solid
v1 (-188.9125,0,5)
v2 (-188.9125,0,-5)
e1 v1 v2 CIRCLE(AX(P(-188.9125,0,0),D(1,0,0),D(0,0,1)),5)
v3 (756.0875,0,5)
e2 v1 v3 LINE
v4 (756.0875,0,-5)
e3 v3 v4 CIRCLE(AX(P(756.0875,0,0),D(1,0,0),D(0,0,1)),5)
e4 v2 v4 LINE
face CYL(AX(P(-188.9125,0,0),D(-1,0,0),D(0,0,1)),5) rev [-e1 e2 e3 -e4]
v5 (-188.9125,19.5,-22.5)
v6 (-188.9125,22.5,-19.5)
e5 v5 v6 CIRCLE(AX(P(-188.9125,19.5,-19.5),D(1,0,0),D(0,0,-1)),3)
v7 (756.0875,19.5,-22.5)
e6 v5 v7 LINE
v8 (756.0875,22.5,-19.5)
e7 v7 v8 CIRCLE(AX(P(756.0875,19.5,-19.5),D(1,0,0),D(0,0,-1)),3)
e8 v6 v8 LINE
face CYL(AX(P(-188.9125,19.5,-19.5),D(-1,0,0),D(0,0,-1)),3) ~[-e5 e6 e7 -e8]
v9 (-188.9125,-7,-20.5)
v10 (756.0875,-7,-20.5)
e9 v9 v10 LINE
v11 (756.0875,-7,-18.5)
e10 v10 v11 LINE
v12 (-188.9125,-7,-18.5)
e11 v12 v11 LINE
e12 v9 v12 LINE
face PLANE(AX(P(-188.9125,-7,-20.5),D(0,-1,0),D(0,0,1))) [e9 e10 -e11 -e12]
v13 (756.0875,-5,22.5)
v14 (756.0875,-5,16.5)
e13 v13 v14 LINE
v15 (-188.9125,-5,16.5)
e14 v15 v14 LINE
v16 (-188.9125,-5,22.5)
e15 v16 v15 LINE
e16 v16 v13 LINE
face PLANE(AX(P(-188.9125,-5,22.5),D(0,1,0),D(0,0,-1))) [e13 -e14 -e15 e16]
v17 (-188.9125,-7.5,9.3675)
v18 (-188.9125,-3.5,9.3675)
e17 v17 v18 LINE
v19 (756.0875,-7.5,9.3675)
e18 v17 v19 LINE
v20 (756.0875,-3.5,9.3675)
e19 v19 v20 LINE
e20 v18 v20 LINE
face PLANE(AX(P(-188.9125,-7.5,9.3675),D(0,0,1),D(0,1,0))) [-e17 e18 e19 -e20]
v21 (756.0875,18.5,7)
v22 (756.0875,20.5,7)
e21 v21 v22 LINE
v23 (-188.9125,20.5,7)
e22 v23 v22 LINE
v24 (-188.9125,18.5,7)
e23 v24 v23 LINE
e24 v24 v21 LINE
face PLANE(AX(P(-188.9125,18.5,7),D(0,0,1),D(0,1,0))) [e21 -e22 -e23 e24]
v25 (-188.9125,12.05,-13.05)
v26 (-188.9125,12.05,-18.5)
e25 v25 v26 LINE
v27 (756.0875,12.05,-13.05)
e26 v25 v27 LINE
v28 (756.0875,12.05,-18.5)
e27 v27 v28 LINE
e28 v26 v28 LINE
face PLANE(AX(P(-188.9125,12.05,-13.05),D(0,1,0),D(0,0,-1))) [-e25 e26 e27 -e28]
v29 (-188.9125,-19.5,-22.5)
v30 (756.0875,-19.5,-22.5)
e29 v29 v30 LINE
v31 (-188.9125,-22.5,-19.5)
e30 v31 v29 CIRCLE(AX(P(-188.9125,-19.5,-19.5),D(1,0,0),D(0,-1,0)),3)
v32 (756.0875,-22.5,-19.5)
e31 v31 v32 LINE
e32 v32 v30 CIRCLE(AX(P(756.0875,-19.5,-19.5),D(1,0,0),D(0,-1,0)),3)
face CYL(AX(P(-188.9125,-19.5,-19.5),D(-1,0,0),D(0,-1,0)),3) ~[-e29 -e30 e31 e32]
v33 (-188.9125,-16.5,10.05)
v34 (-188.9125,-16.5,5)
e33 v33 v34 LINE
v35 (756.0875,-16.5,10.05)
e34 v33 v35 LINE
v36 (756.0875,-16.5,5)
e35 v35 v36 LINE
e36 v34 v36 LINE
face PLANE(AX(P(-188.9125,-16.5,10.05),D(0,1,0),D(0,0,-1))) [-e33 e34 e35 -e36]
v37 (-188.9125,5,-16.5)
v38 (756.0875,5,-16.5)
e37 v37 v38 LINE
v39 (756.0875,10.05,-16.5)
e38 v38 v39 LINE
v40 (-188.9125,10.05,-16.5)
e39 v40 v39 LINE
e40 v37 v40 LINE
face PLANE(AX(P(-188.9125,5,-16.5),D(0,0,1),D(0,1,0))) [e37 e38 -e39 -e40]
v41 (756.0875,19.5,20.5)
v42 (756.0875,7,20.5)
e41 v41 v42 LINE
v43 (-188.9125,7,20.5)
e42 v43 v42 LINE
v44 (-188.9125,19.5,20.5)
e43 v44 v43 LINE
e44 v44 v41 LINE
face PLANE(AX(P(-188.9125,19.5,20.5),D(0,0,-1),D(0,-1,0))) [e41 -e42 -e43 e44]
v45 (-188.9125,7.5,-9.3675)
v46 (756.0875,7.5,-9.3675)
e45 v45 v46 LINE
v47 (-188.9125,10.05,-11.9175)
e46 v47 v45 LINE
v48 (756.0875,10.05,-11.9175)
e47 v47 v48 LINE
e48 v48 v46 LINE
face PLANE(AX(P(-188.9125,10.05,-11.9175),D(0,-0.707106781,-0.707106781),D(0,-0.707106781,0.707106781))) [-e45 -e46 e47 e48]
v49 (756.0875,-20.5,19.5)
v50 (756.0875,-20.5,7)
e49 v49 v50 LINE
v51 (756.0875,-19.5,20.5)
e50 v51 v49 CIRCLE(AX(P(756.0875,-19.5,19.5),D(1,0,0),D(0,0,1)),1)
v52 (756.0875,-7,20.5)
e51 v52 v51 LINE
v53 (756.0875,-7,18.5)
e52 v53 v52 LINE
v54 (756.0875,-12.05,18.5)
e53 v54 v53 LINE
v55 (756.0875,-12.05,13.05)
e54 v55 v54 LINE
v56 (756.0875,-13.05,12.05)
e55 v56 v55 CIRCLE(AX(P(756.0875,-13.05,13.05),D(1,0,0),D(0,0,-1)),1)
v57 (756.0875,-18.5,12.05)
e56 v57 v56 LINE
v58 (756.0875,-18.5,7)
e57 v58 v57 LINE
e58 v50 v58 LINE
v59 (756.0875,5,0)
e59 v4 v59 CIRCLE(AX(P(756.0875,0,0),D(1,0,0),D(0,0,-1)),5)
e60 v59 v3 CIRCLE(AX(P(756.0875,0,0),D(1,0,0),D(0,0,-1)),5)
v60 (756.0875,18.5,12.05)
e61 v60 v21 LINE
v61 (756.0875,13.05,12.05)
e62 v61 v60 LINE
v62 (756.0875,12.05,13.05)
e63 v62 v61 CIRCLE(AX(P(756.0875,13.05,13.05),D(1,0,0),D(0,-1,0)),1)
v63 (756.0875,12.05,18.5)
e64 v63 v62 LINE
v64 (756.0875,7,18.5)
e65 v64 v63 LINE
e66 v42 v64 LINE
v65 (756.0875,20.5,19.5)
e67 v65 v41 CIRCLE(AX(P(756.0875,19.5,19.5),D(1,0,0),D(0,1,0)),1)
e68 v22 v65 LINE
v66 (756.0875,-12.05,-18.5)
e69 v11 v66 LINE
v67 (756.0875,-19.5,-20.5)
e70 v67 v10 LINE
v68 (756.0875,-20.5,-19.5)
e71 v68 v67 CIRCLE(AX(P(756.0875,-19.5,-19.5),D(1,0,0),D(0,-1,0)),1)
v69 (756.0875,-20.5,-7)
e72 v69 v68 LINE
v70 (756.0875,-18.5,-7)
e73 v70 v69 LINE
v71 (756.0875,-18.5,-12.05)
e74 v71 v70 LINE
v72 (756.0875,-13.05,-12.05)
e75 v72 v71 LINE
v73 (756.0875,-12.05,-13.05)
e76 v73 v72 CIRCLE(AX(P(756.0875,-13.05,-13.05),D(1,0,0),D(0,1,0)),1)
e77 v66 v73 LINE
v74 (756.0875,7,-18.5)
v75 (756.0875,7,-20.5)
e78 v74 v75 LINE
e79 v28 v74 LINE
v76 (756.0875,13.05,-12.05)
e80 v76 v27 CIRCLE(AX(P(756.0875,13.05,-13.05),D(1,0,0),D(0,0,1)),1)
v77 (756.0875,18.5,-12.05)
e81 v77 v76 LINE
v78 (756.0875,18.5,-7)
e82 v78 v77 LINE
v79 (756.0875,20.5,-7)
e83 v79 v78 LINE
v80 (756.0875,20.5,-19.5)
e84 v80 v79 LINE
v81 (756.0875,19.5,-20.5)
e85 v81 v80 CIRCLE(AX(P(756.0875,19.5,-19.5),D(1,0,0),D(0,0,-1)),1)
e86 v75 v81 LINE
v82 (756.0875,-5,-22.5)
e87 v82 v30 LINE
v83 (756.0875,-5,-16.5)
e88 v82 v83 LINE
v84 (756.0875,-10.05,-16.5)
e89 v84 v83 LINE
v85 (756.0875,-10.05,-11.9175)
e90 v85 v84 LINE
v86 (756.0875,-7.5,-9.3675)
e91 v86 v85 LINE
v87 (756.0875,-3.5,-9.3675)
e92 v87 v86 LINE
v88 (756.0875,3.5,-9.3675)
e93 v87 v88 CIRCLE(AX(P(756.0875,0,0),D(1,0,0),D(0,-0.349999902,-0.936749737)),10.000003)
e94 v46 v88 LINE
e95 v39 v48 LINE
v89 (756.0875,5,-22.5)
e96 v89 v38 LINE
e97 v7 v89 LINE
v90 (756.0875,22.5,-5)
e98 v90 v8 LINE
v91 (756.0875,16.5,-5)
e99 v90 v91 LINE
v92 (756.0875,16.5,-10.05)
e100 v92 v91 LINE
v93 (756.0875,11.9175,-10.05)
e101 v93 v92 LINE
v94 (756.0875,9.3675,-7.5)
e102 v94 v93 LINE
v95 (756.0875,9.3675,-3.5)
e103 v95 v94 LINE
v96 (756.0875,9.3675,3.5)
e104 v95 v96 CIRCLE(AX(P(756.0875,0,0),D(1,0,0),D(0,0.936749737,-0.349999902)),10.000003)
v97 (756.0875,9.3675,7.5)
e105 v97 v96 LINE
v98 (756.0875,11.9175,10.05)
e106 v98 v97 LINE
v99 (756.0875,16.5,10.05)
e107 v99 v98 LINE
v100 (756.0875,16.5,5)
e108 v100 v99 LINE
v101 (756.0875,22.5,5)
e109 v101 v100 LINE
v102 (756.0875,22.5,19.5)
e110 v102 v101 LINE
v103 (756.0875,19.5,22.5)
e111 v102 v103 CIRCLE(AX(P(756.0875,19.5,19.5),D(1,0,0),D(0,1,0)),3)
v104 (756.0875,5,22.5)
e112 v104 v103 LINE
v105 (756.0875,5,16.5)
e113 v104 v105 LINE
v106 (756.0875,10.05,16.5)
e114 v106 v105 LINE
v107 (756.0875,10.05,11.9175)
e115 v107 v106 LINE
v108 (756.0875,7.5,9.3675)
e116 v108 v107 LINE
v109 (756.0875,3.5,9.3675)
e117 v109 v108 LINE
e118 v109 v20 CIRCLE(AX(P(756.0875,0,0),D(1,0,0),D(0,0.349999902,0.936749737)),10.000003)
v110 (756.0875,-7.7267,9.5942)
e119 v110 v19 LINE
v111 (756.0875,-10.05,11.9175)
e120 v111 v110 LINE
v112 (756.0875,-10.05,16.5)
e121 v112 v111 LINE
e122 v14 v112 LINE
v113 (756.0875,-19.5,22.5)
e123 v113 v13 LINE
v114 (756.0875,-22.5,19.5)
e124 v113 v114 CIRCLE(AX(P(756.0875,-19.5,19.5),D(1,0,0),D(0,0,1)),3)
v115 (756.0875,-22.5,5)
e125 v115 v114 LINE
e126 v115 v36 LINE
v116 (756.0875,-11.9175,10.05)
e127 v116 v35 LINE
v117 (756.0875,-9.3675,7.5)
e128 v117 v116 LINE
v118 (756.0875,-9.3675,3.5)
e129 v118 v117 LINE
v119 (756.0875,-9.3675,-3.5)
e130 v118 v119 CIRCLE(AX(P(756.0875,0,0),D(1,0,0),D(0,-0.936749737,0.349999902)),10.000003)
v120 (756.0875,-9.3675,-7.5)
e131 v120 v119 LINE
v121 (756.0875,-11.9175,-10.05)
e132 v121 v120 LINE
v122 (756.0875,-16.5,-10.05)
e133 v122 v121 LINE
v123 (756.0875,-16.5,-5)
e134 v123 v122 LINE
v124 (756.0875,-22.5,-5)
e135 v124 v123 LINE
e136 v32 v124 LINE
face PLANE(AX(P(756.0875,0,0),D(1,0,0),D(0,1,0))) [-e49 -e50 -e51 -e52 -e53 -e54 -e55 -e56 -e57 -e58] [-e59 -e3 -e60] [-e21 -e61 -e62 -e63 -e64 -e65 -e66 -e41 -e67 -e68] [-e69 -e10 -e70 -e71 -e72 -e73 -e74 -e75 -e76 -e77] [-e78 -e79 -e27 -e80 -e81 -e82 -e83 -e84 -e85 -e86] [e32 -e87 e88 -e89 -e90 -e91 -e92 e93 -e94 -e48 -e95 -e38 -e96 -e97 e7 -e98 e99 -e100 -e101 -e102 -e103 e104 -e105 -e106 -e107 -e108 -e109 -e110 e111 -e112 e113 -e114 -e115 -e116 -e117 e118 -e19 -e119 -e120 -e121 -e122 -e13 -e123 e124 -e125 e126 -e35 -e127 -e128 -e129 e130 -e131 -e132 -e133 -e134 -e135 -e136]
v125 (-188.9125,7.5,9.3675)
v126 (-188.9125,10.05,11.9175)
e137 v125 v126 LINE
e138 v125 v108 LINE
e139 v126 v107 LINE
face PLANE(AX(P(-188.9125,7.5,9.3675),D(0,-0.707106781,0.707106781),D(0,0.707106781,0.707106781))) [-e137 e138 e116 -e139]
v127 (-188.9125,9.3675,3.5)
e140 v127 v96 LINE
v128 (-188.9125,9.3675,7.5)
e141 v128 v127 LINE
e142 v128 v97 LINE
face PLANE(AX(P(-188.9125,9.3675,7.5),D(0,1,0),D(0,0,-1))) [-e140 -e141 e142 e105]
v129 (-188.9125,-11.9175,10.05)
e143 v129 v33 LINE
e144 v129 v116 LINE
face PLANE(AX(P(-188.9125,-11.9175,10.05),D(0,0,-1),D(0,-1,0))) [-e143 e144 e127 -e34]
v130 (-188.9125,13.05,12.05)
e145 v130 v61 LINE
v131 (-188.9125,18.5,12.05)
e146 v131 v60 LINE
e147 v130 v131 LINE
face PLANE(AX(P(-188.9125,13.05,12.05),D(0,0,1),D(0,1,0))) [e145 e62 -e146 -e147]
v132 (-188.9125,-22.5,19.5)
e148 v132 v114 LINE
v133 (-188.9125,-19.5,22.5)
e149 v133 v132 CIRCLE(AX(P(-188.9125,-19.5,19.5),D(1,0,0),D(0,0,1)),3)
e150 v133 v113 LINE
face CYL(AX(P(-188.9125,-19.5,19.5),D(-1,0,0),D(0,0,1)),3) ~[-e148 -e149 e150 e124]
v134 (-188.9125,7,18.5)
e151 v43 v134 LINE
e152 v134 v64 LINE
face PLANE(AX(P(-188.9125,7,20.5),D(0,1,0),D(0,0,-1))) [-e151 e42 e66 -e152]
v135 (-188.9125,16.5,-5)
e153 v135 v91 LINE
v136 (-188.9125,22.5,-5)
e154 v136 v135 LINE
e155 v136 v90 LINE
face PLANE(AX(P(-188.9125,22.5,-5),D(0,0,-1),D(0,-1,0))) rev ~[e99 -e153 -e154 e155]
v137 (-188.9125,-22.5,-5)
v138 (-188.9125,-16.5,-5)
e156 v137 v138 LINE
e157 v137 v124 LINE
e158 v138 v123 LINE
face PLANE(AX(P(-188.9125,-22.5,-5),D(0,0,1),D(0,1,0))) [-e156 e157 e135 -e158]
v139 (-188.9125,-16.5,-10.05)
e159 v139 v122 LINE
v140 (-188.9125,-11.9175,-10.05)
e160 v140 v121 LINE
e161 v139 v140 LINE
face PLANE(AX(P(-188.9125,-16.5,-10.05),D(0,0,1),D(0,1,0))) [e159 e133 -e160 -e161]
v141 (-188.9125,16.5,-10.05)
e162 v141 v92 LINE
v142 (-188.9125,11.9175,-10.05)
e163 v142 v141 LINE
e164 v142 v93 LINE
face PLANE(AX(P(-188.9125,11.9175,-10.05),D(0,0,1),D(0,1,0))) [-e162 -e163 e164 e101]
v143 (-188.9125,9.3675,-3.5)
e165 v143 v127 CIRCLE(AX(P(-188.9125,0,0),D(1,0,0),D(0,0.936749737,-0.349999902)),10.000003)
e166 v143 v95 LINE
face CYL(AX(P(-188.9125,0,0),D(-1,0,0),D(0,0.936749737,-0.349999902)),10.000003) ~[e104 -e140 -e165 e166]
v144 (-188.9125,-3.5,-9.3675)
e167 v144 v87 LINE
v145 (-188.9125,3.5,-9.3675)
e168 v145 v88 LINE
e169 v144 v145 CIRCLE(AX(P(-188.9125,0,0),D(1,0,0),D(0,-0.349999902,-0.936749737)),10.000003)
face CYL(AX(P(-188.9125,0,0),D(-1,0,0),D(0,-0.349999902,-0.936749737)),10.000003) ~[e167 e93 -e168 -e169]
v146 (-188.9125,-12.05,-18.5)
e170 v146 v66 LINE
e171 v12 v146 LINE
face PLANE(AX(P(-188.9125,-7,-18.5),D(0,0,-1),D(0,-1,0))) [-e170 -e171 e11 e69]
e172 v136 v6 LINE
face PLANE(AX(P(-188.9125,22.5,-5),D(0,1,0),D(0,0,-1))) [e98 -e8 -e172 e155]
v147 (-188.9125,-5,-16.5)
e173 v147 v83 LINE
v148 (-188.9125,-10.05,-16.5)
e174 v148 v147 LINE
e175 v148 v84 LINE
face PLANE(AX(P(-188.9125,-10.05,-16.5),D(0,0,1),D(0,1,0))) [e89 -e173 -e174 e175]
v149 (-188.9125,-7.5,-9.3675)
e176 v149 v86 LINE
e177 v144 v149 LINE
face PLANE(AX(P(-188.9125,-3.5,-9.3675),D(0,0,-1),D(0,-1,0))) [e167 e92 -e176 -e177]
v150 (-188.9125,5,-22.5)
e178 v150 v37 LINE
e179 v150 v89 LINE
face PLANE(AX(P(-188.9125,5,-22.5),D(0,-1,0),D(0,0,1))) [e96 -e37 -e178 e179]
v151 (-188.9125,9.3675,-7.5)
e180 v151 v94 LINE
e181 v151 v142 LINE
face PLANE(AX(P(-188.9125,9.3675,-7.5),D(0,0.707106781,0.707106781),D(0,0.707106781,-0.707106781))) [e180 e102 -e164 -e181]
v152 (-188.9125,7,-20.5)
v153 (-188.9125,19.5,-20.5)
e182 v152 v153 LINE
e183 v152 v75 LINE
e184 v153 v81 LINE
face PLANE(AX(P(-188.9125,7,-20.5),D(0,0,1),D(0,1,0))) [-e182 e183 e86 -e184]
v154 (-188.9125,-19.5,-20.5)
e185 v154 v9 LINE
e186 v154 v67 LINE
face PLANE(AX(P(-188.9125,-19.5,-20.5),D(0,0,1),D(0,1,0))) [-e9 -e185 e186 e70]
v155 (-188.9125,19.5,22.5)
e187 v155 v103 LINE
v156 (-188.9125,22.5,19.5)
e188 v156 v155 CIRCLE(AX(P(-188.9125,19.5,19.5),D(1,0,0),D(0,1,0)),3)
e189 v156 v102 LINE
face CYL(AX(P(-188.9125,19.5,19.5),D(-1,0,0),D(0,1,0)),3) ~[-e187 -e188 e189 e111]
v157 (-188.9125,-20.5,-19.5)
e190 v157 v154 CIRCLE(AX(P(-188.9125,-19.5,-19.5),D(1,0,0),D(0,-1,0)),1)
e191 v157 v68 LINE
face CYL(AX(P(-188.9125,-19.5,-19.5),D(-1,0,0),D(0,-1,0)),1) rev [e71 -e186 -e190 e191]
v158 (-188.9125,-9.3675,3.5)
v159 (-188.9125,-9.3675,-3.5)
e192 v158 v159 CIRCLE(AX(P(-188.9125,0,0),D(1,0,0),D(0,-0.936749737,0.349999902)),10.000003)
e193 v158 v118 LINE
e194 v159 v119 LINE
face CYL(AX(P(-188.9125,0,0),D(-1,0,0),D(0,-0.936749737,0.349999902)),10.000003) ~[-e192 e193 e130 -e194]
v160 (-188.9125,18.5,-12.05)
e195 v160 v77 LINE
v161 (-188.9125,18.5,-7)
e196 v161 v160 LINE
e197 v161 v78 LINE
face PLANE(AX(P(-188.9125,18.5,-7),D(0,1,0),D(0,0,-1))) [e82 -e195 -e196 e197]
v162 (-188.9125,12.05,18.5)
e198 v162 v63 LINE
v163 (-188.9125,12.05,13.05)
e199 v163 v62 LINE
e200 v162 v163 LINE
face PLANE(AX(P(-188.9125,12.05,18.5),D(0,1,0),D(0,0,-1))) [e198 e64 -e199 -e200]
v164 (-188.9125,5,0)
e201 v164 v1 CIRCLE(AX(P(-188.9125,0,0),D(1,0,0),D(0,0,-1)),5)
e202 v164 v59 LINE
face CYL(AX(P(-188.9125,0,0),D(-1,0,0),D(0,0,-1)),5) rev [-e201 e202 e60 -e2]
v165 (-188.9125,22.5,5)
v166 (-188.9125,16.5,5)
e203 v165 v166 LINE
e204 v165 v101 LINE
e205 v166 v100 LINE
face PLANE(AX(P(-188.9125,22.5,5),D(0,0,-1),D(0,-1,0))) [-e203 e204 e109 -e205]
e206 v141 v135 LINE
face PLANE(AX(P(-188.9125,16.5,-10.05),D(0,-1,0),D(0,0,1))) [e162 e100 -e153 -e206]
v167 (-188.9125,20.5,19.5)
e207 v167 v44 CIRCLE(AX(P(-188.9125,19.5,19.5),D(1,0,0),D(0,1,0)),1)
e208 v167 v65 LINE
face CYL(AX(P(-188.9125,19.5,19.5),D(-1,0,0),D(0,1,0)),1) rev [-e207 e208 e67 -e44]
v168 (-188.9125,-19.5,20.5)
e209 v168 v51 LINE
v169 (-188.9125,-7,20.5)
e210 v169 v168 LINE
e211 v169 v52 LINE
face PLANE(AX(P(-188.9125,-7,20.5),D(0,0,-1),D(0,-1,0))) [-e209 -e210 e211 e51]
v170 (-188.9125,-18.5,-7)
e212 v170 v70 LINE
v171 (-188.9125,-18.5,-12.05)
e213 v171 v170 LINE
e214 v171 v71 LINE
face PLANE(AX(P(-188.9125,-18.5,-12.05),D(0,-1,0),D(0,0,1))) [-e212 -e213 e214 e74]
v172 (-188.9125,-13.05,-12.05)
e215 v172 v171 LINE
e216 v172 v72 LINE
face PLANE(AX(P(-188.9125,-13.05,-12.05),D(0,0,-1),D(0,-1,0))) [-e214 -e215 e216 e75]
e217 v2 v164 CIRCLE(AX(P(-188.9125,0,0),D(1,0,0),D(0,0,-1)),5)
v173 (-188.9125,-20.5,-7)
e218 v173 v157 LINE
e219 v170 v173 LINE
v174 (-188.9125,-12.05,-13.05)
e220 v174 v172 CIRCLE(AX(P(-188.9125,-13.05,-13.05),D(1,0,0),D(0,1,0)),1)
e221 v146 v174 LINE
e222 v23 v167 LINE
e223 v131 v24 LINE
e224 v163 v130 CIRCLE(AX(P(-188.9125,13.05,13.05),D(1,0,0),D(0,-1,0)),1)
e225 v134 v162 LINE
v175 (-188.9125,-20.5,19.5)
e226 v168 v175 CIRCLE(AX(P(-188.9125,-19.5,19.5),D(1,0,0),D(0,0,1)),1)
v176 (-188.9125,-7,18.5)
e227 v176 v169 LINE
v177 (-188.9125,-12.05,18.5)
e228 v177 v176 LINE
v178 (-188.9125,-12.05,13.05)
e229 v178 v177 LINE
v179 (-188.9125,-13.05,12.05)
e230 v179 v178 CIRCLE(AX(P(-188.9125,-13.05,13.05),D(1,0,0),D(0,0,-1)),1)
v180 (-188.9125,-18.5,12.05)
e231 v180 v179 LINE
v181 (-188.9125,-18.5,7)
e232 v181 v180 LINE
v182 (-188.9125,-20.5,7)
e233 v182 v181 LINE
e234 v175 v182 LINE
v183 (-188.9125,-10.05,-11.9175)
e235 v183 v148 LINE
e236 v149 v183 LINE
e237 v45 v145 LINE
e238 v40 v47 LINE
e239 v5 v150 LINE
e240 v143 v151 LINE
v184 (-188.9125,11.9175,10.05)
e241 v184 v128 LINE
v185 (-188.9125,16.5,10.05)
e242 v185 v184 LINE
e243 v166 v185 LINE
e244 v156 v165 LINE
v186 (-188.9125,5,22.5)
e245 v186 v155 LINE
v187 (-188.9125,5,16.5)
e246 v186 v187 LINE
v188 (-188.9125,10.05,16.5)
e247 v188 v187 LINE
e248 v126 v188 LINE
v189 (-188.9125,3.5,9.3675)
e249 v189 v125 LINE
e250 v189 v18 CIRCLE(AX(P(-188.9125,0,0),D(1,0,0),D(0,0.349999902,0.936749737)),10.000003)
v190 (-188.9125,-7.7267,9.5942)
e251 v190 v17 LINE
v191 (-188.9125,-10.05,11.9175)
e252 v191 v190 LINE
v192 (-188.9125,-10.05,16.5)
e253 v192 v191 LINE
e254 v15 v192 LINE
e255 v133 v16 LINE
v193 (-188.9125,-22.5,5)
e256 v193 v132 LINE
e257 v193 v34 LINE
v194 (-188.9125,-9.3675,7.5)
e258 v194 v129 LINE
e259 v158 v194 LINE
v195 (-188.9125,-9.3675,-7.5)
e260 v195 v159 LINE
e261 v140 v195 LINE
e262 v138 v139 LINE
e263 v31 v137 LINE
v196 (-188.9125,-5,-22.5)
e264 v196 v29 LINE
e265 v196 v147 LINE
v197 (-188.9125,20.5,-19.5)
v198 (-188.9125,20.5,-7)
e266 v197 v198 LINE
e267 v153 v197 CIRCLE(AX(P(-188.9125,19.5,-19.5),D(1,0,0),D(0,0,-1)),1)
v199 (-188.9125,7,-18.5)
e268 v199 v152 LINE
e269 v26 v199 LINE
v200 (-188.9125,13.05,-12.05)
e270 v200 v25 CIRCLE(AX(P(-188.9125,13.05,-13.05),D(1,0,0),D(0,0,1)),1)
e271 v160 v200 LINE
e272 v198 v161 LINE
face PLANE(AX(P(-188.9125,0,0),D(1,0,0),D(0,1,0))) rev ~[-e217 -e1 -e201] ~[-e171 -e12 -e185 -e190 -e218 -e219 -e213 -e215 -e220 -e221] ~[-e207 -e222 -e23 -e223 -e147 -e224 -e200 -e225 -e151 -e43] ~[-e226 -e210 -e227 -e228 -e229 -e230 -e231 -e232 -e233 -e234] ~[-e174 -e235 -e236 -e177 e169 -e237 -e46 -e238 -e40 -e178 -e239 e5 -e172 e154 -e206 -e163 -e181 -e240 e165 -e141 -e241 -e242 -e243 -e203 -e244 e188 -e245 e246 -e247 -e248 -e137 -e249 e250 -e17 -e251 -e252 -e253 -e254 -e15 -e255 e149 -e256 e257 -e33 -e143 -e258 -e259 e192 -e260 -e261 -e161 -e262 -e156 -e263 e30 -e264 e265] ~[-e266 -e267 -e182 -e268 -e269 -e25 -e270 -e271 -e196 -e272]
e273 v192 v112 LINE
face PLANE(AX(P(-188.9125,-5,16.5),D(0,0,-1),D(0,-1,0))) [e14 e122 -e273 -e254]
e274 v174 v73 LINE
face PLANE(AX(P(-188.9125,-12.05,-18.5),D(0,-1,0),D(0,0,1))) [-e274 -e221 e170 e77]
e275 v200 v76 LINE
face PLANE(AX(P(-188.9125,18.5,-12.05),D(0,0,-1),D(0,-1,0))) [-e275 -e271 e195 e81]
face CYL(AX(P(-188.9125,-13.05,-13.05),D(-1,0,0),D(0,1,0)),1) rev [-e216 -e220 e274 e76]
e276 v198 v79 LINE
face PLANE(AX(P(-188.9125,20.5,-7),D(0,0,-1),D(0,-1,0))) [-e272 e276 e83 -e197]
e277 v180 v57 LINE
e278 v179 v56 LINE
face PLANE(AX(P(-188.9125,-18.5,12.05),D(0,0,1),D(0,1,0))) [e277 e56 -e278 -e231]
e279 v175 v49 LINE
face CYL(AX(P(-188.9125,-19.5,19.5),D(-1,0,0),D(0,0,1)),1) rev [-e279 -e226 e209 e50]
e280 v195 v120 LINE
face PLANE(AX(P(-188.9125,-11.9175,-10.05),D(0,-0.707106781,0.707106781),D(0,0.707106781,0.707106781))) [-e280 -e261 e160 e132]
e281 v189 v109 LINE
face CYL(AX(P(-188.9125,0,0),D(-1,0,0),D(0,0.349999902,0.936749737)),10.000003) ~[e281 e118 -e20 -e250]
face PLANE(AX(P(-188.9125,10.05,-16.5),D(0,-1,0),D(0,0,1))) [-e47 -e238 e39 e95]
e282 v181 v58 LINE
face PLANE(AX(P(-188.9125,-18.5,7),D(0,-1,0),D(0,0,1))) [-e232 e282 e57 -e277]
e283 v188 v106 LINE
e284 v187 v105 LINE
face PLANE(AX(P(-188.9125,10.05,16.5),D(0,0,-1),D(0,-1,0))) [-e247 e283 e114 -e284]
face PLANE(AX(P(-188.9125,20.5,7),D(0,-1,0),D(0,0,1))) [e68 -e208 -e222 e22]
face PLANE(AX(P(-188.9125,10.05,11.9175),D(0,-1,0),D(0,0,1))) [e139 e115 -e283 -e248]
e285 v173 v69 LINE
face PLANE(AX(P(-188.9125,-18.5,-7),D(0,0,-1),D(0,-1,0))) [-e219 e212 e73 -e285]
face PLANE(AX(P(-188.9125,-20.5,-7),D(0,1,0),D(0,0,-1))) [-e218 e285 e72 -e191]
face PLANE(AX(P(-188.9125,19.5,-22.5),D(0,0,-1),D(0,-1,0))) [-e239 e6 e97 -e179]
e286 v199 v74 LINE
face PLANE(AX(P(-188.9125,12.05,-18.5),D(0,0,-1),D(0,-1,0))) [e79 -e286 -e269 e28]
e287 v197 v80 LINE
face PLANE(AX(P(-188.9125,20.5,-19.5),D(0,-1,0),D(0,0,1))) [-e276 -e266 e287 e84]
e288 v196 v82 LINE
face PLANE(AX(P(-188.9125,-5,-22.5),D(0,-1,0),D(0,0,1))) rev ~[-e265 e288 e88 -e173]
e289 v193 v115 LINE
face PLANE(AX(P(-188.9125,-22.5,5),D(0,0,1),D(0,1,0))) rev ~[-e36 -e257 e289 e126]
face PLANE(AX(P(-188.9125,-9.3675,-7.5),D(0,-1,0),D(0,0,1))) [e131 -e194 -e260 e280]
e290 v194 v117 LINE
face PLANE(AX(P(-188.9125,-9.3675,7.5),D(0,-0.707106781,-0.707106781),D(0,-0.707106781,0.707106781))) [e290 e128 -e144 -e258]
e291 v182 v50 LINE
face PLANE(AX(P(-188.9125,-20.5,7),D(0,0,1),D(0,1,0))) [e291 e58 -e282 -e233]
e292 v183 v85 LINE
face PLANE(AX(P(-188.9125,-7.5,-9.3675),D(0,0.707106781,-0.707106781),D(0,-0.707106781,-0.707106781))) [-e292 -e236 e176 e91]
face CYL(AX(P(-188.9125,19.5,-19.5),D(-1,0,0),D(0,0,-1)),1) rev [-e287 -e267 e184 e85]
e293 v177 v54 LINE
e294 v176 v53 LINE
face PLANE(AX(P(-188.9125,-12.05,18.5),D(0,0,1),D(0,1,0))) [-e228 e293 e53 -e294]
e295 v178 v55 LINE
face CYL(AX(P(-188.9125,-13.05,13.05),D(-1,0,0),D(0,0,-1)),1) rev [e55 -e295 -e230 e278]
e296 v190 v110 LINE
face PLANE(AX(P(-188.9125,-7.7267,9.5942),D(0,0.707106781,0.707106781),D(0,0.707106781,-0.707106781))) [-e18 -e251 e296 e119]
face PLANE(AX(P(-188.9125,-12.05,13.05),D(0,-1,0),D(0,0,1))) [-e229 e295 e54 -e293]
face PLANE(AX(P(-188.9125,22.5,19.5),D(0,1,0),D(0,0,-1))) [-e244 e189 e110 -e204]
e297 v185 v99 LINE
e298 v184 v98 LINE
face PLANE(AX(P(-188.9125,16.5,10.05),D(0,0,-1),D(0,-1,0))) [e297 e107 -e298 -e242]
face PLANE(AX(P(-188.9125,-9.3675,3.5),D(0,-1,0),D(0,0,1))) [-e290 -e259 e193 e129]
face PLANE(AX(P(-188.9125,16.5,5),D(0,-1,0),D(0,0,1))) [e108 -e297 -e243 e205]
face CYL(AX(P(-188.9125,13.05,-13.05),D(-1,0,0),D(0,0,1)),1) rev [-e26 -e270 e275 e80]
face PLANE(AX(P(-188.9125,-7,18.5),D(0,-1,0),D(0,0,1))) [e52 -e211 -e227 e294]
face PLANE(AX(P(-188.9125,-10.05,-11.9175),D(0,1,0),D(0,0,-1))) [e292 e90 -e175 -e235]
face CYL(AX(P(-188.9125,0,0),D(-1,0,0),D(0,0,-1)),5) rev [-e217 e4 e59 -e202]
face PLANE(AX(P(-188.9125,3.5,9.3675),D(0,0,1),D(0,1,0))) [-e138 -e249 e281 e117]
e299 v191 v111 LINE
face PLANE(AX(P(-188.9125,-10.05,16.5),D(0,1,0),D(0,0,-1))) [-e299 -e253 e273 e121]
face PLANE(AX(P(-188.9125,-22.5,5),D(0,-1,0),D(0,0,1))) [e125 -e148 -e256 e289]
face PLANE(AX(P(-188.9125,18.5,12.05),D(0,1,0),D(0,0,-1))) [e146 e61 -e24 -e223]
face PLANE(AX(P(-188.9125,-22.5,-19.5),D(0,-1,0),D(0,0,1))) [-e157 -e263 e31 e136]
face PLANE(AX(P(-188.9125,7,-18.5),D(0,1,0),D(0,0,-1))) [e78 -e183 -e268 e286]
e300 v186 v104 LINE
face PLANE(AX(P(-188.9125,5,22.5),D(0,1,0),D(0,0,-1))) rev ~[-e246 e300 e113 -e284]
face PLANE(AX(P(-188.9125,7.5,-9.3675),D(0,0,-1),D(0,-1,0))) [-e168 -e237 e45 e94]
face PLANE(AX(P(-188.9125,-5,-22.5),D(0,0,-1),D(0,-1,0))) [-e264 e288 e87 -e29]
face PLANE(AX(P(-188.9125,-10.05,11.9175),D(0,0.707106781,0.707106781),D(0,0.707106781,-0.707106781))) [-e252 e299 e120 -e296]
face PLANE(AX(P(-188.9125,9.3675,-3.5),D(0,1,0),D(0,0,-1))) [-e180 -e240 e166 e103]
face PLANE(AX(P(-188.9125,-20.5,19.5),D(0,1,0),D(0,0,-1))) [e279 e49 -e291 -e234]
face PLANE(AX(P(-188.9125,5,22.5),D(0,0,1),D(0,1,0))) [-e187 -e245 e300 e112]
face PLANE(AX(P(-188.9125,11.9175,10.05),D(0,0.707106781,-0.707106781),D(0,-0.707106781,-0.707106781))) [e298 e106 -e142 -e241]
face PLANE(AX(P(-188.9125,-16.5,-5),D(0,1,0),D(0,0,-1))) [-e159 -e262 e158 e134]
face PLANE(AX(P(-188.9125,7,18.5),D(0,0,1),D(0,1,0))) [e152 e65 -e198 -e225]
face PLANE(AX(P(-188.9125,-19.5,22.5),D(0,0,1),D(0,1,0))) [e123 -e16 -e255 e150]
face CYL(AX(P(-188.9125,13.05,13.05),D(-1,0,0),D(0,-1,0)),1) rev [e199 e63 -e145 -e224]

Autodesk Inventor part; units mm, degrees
ref_plane "YZ Plane" through (0, 0, 0) normal (1, 0, 0) x (0, 1, 0)
ref_plane "XZ Plane" through (0, 0, 0) normal (0, 1, 0) x (-1, 0, 0)
ref_plane "Work Plane1" through (-188.9125, 0, 0) normal (1, 0, 0) x (0, 1, 0)
sketch "Sketch1" plane through (-188.9125, 0, 0) normal (1, 0, 0) x (0, 1, 0)
  line L0 (-22.5, -5) -> (-16.5, -5) projected
  line L1 (-16.5, -5) -> (-16.5, -10.05) projected
  line L2 (-16.5, -10.05) -> (-11.9175, -10.05) projected
  line L3 (-11.9175, -10.05) -> (-9.3675, -7.5) projected
  line L4 (-9.3675, -7.5) -> (-9.3675, -3.5) projected
  arc A0 (-9.3675, 3.5) -> (-9.3675, -3.5) centre (0, 0) ccw projected
  line L5 (-9.3675, 3.5) -> (-9.3675, 7.5) projected
  line L6 (-9.3675, 7.5) -> (-11.9175, 10.05) projected
  line L7 (-11.9175, 10.05) -> (-16.5, 10.05) projected
  line L8 (-16.5, 10.05) -> (-16.5, 5) projected
  line L9 (-22.5, 5) -> (-16.5, 5) projected
  line L10 (-22.5, 5) -> (-22.5, 19.5) projected
  arc A1 (-19.5, 22.5) -> (-22.5, 19.5) centre (-19.5, 19.5) ccw projected
  line L11 (-19.5, 22.5) -> (-5, 22.5) projected
  line L12 (-5, 22.5) -> (-5, 16.5) projected
  line L13 (-5, 16.5) -> (-10.05, 16.5) projected
  line L14 (-10.05, 16.5) -> (-10.05, 11.9175) projected
  line L15 (-10.05, 11.9175) -> (-7.5, 9.3675) projected
  line L16 (-7.5, 9.3675) -> (-3.5, 9.3675) projected
  arc A2 (3.5, 9.3675) -> (-3.5, 9.3675) centre (0, 0) ccw projected
  line L17 (3.5, 9.3675) -> (7.5, 9.3675) projected
  line L18 (7.5, 9.3675) -> (10.05, 11.9175) projected
  line L19 (10.05, 11.9175) -> (10.05, 16.5) projected
  line L20 (10.05, 16.5) -> (5, 16.5) projected
  line L21 (5, 22.5) -> (5, 16.5) projected
  line L22 (5, 22.5) -> (19.5, 22.5) projected
  arc A3 (22.5, 19.5) -> (19.5, 22.5) centre (19.5, 19.5) ccw projected
  line L23 (22.5, 19.5) -> (22.5, 5) projected
  line L24 (22.5, 5) -> (16.5, 5) projected
  line L25 (16.5, 5) -> (16.5, 10.05) projected
  line L26 (16.5, 10.05) -> (11.9175, 10.05) projected
  line L27 (11.9175, 10.05) -> (9.3675, 7.5) projected
  line L28 (9.3675, 7.5) -> (9.3675, 3.5) projected
  arc A4 (9.3675, -3.5) -> (9.3675, 3.5) centre (0, 0) ccw projected
  line L29 (9.3675, -3.5) -> (9.3675, -7.5) projected
  line L30 (9.3675, -7.5) -> (11.9175, -10.05) projected
  line L31 (11.9175, -10.05) -> (16.5, -10.05) projected
  line L32 (16.5, -10.05) -> (16.5, -5) projected
  line L33 (22.5, -5) -> (16.5, -5) projected
  line L34 (22.5, -5) -> (22.5, -19.5) projected
  arc A5 (19.5, -22.5) -> (22.5, -19.5) centre (19.5, -19.5) ccw projected
  line L35 (19.5, -22.5) -> (5, -22.5) projected
  line L36 (5, -22.5) -> (5, -16.5) projected
  line L37 (5, -16.5) -> (10.05, -16.5) projected
  line L38 (10.05, -16.5) -> (10.05, -11.9175) projected
  line L39 (10.05, -11.9175) -> (7.5, -9.3675) projected
  line L40 (7.5, -9.3675) -> (3.5, -9.3675) projected
  arc A6 (-3.5, -9.3675) -> (3.5, -9.3675) centre (0, 0) ccw projected
  line L41 (-3.5, -9.3675) -> (-7.5, -9.3675) projected
  line L42 (-7.5, -9.3675) -> (-10.05, -11.9175) projected
  line L43 (-10.05, -11.9175) -> (-10.05, -16.5) projected
  line L44 (-10.05, -16.5) -> (-5, -16.5) projected
  line L45 (-5, -22.5) -> (-5, -16.5) projected
  line L46 (-5, -22.5) -> (-19.5, -22.5) projected
  arc A7 (-22.5, -19.5) -> (-19.5, -22.5) centre (-19.5, -19.5) ccw projected
  line L47 (-22.5, -19.5) -> (-22.5, -5) projected
  arc A8 (0, 5) -> (0, -5) centre (0, 0) ccw projected
  arc A9 (0, -5) -> (0, 5) centre (0, 0) ccw projected
  arc A10 (13.05, -12.05) -> (12.05, -13.05) centre (13.05, -13.05) ccw projected
  line L48 (12.05, -13.05) -> (12.05, -18.5) projected
  line L49 (12.05, -18.5) -> (7, -18.5) projected
  line L50 (7, -18.5) -> (7, -20.5) projected
  line L51 (7, -20.5) -> (19.5, -20.5) projected
  arc A11 (19.5, -20.5) -> (20.5, -19.5) centre (19.5, -19.5) ccw projected
  line L52 (20.5, -19.5) -> (20.5, -7) projected
  line L53 (20.5, -7) -> (18.5, -7) projected
  line L54 (18.5, -7) -> (18.5, -12.05) projected
  line L55 (18.5, -12.05) -> (13.05, -12.05) projected
  arc A12 (-20.5, -19.5) -> (-19.5, -20.5) centre (-19.5, -19.5) ccw projected
  line L56 (-19.5, -20.5) -> (-7, -20.5) projected
  line L57 (-7, -20.5) -> (-7, -18.5) projected
  line L58 (-7, -18.5) -> (-12.05, -18.5) projected
  line L59 (-12.05, -18.5) -> (-12.05, -13.05) projected
  arc A13 (-12.05, -13.05) -> (-13.05, -12.05) centre (-13.05, -13.05) ccw projected
  line L60 (-13.05, -12.05) -> (-18.5, -12.05) projected
  line L61 (-18.5, -12.05) -> (-18.5, -7) projected
  line L62 (-18.5, -7) -> (-20.5, -7) projected
  line L63 (-20.5, -7) -> (-20.5, -19.5) projected
  arc A14 (-19.5, 20.5) -> (-20.5, 19.5) centre (-19.5, 19.5) ccw projected
  line L64 (-20.5, 19.5) -> (-20.5, 7) projected
  line L65 (-20.5, 7) -> (-18.5, 7) projected
  line L66 (-18.5, 7) -> (-18.5, 12.05) projected
  line L67 (-18.5, 12.05) -> (-13.05, 12.05) projected
  arc A15 (-13.05, 12.05) -> (-12.05, 13.05) centre (-13.05, 13.05) ccw projected
  line L68 (-12.05, 13.05) -> (-12.05, 18.5) projected
  line L69 (-12.05, 18.5) -> (-7, 18.5) projected
  line L70 (-7, 18.5) -> (-7, 20.5) projected
  line L71 (-7, 20.5) -> (-19.5, 20.5) projected
  line L72 (7, 18.5) -> (12.05, 18.5) projected
  line L73 (12.05, 18.5) -> (12.05, 13.05) projected
  arc A16 (12.05, 13.05) -> (13.05, 12.05) centre (13.05, 13.05) ccw projected
  line L74 (13.05, 12.05) -> (18.5, 12.05) projected
  line L75 (18.5, 12.05) -> (18.5, 7) projected
  line L76 (18.5, 7) -> (20.5, 7) projected
  line L77 (20.5, 7) -> (20.5, 19.5) projected
  arc A17 (20.5, 19.5) -> (19.5, 20.5) centre (19.5, 19.5) ccw projected
  line L78 (19.5, 20.5) -> (7, 20.5) projected
  line L79 (7, 20.5) -> (7, 18.5) projected
  line L80 (5, -22.5) -> (19.5, -22.5)
  line L81 (19.5, -20.5) -> (7, -20.5)
  line L82 (7, -20.5) -> (7, -18.5)
  line L83 (7, -18.5) -> (12.05, -18.5)
  line L84 (12.05, -18.5) -> (12.05, -13.05)
  line L85 (18.5, -12.05) -> (13.05, -12.05)
  line L86 (18.5, -12.05) -> (18.5, -7)
  line L87 (18.5, -7) -> (20.5, -7)
  line L88 (20.5, -7) -> (20.5, -19.5)
  line L89 (22.5, -19.5) -> (22.5, -5)
  line L90 (22.5, -5) -> (16.5, -5)
  line L91 (11.9175, -10.05) -> (16.5, -10.05)
  line L92 (16.5, -10.05) -> (16.5, -5)
  line L93 (11.9175, -10.05) -> (9.3675, -7.5)
  line L94 (7.5, -9.3675) -> (10.05, -11.9175)
  line L95 (10.05, -11.9175) -> (10.05, -16.5)
  line L96 (10.05, -16.5) -> (5, -16.5)
  line L97 (5, -22.5) -> (5, -16.5)
  line L98 (7.5, -9.3675) -> (3.5, -9.3675)
  line L99 (9.3675, -7.5) -> (9.3675, -3.5)
  line L100 (9.3675, 3.5) -> (9.3675, 7.5)
  line L101 (9.3675, 7.5) -> (11.9175, 10.05)
  line L102 (11.9175, 10.05) -> (16.5, 10.05)
  line L103 (16.5, 10.05) -> (16.5, 5)
  line L104 (16.5, 5) -> (22.5, 5)
  line L105 (22.5, 5) -> (22.5, 19.5)
  line L106 (20.5, 19.5) -> (20.5, 7)
  line L107 (18.5, 7) -> (20.5, 7)
  line L108 (18.5, 7) -> (18.5, 12.05)
  line L109 (18.5, 12.05) -> (13.05, 12.05)
  line L110 (12.05, 13.05) -> (12.05, 18.5)
  line L111 (12.05, 18.5) -> (7, 18.5)
  line L112 (7, 18.5) -> (7, 20.5)
  line L113 (7, 20.5) -> (19.5, 20.5)
  line L114 (19.5, 22.5) -> (5, 22.5)
  line L115 (5, 22.5) -> (5, 16.5)
  line L116 (5, 16.5) -> (10.05, 16.5)
  line L117 (10.05, 16.5) -> (10.05, 11.9175)
  line L118 (10.05, 11.9175) -> (7.5, 9.3675)
  line L119 (7.5, 9.3675) -> (3.5, 9.3675)
  line L120 (-3.5, 9.3675) -> (-7.5, 9.3675)
  line L121 (-7.7267, 9.5942) -> (-10.05, 11.9175)
  line L122 (-10.05, 11.9175) -> (-10.05, 16.5)
  line L123 (-10.05, 16.5) -> (-5, 16.5)
  line L124 (-5, 16.5) -> (-5, 22.5)
  line L125 (-19.5, 22.5) -> (-5, 22.5)
  line L126 (-7, 20.5) -> (-19.5, 20.5)
  line L127 (-7, 20.5) -> (-7, 18.5)
  line L128 (-7, 18.5) -> (-12.05, 18.5)
  line L129 (-12.05, 18.5) -> (-12.05, 13.05)
  line L130 (-13.05, 12.05) -> (-18.5, 12.05)
  line L131 (-18.5, 12.05) -> (-18.5, 7)
  line L132 (-18.5, 7) -> (-20.5, 7)
  line L133 (-20.5, 7) -> (-20.5, 19.5)
  line L134 (-22.5, 19.5) -> (-22.5, 5)
  line L135 (-22.5, 5) -> (-16.5, 5)
  line L136 (-16.5, 5) -> (-16.5, 10.05)
  line L137 (-11.9175, 10.05) -> (-16.5, 10.05)
  line L138 (-11.9175, 10.05) -> (-9.3675, 7.5)
  line L139 (-9.3675, 7.5) -> (-9.3675, 3.5)
  line L140 (-9.3675, -3.5) -> (-9.3675, -7.5)
  line L141 (-9.3675, -7.5) -> (-11.9175, -10.05)
  line L142 (-11.9175, -10.05) -> (-16.5, -10.05)
  line L143 (-16.5, -10.05) -> (-16.5, -5)
  line L144 (-16.5, -5) -> (-22.5, -5)
  line L145 (-22.5, -5) -> (-22.5, -19.5)
  line L146 (-20.5, -7) -> (-20.5, -19.5)
  line L147 (-20.5, -7) -> (-18.5, -7)
  line L148 (-18.5, -7) -> (-18.5, -12.05)
  line L149 (-18.5, -12.05) -> (-13.05, -12.05)
  line L150 (-12.05, -13.05) -> (-12.05, -18.5)
  line L151 (-12.05, -18.5) -> (-7, -18.5)
  line L152 (-7, -18.5) -> (-7, -20.5)
  line L153 (-7, -20.5) -> (-19.5, -20.5)
  line L154 (-19.5, -22.5) -> (-5, -22.5)
  line L155 (-5, -22.5) -> (-5, -16.5)
  line L156 (-5, -16.5) -> (-10.05, -16.5)
  line L157 (-10.05, -16.5) -> (-10.05, -11.9175)
  line L158 (-7.5, -9.3675) -> (-10.05, -11.9175)
  line L159 (-7.5, -9.3675) -> (-3.5, -9.3675)
  arc A18 (-20.5, -19.5) -> (-19.5, -20.5) centre (-19.5, -19.5) ccw
  arc A19 (-22.5, -19.5) -> (-19.5, -22.5) centre (-19.5, -19.5) ccw
  arc A20 (-12.05, -13.05) -> (-13.05, -12.05) centre (-13.05, -13.05) ccw
  circle A21 centre (0, 0) radius 5
  arc A22 (-13.05, 12.05) -> (-12.05, 13.05) centre (-13.05, 13.05) ccw
  arc A23 (-19.5, 20.5) -> (-20.5, 19.5) centre (-19.5, 19.5) ccw
  arc A24 (-19.5, 22.5) -> (-22.5, 19.5) centre (-19.5, 19.5) ccw
  arc A25 (12.05, 13.05) -> (13.05, 12.05) centre (13.05, 13.05) ccw
  arc A26 (20.5, 19.5) -> (19.5, 20.5) centre (19.5, 19.5) ccw
  arc A27 (22.5, 19.5) -> (19.5, 22.5) centre (19.5, 19.5) ccw
  arc A28 (13.05, -12.05) -> (12.05, -13.05) centre (13.05, -13.05) ccw
  arc A29 (19.5, -20.5) -> (20.5, -19.5) centre (19.5, -19.5) ccw
  arc A30 (19.5, -22.5) -> (22.5, -19.5) centre (19.5, -19.5) ccw
  arc A31 (-3.5, -9.3675) -> (3.5, -9.3675) centre (0, 0) ccw
  arc A32 (9.3675, -3.5) -> (9.3675, 3.5) centre (0, 0) ccw
  arc A33 (3.5, 9.3675) -> (-3.5, 9.3675) centre (0, 0) ccw
  arc A34 (-9.3675, 3.5) -> (-9.3675, -3.5) centre (0, 0) ccw
extrude "BOSCH, 45X45" add sketch "Sketch1" along normal blind 945
properties part number "BAR, EXTRUDED ALUM, 45MMX45MM, BOSCH" material "Aluminum, 6061-T6"
